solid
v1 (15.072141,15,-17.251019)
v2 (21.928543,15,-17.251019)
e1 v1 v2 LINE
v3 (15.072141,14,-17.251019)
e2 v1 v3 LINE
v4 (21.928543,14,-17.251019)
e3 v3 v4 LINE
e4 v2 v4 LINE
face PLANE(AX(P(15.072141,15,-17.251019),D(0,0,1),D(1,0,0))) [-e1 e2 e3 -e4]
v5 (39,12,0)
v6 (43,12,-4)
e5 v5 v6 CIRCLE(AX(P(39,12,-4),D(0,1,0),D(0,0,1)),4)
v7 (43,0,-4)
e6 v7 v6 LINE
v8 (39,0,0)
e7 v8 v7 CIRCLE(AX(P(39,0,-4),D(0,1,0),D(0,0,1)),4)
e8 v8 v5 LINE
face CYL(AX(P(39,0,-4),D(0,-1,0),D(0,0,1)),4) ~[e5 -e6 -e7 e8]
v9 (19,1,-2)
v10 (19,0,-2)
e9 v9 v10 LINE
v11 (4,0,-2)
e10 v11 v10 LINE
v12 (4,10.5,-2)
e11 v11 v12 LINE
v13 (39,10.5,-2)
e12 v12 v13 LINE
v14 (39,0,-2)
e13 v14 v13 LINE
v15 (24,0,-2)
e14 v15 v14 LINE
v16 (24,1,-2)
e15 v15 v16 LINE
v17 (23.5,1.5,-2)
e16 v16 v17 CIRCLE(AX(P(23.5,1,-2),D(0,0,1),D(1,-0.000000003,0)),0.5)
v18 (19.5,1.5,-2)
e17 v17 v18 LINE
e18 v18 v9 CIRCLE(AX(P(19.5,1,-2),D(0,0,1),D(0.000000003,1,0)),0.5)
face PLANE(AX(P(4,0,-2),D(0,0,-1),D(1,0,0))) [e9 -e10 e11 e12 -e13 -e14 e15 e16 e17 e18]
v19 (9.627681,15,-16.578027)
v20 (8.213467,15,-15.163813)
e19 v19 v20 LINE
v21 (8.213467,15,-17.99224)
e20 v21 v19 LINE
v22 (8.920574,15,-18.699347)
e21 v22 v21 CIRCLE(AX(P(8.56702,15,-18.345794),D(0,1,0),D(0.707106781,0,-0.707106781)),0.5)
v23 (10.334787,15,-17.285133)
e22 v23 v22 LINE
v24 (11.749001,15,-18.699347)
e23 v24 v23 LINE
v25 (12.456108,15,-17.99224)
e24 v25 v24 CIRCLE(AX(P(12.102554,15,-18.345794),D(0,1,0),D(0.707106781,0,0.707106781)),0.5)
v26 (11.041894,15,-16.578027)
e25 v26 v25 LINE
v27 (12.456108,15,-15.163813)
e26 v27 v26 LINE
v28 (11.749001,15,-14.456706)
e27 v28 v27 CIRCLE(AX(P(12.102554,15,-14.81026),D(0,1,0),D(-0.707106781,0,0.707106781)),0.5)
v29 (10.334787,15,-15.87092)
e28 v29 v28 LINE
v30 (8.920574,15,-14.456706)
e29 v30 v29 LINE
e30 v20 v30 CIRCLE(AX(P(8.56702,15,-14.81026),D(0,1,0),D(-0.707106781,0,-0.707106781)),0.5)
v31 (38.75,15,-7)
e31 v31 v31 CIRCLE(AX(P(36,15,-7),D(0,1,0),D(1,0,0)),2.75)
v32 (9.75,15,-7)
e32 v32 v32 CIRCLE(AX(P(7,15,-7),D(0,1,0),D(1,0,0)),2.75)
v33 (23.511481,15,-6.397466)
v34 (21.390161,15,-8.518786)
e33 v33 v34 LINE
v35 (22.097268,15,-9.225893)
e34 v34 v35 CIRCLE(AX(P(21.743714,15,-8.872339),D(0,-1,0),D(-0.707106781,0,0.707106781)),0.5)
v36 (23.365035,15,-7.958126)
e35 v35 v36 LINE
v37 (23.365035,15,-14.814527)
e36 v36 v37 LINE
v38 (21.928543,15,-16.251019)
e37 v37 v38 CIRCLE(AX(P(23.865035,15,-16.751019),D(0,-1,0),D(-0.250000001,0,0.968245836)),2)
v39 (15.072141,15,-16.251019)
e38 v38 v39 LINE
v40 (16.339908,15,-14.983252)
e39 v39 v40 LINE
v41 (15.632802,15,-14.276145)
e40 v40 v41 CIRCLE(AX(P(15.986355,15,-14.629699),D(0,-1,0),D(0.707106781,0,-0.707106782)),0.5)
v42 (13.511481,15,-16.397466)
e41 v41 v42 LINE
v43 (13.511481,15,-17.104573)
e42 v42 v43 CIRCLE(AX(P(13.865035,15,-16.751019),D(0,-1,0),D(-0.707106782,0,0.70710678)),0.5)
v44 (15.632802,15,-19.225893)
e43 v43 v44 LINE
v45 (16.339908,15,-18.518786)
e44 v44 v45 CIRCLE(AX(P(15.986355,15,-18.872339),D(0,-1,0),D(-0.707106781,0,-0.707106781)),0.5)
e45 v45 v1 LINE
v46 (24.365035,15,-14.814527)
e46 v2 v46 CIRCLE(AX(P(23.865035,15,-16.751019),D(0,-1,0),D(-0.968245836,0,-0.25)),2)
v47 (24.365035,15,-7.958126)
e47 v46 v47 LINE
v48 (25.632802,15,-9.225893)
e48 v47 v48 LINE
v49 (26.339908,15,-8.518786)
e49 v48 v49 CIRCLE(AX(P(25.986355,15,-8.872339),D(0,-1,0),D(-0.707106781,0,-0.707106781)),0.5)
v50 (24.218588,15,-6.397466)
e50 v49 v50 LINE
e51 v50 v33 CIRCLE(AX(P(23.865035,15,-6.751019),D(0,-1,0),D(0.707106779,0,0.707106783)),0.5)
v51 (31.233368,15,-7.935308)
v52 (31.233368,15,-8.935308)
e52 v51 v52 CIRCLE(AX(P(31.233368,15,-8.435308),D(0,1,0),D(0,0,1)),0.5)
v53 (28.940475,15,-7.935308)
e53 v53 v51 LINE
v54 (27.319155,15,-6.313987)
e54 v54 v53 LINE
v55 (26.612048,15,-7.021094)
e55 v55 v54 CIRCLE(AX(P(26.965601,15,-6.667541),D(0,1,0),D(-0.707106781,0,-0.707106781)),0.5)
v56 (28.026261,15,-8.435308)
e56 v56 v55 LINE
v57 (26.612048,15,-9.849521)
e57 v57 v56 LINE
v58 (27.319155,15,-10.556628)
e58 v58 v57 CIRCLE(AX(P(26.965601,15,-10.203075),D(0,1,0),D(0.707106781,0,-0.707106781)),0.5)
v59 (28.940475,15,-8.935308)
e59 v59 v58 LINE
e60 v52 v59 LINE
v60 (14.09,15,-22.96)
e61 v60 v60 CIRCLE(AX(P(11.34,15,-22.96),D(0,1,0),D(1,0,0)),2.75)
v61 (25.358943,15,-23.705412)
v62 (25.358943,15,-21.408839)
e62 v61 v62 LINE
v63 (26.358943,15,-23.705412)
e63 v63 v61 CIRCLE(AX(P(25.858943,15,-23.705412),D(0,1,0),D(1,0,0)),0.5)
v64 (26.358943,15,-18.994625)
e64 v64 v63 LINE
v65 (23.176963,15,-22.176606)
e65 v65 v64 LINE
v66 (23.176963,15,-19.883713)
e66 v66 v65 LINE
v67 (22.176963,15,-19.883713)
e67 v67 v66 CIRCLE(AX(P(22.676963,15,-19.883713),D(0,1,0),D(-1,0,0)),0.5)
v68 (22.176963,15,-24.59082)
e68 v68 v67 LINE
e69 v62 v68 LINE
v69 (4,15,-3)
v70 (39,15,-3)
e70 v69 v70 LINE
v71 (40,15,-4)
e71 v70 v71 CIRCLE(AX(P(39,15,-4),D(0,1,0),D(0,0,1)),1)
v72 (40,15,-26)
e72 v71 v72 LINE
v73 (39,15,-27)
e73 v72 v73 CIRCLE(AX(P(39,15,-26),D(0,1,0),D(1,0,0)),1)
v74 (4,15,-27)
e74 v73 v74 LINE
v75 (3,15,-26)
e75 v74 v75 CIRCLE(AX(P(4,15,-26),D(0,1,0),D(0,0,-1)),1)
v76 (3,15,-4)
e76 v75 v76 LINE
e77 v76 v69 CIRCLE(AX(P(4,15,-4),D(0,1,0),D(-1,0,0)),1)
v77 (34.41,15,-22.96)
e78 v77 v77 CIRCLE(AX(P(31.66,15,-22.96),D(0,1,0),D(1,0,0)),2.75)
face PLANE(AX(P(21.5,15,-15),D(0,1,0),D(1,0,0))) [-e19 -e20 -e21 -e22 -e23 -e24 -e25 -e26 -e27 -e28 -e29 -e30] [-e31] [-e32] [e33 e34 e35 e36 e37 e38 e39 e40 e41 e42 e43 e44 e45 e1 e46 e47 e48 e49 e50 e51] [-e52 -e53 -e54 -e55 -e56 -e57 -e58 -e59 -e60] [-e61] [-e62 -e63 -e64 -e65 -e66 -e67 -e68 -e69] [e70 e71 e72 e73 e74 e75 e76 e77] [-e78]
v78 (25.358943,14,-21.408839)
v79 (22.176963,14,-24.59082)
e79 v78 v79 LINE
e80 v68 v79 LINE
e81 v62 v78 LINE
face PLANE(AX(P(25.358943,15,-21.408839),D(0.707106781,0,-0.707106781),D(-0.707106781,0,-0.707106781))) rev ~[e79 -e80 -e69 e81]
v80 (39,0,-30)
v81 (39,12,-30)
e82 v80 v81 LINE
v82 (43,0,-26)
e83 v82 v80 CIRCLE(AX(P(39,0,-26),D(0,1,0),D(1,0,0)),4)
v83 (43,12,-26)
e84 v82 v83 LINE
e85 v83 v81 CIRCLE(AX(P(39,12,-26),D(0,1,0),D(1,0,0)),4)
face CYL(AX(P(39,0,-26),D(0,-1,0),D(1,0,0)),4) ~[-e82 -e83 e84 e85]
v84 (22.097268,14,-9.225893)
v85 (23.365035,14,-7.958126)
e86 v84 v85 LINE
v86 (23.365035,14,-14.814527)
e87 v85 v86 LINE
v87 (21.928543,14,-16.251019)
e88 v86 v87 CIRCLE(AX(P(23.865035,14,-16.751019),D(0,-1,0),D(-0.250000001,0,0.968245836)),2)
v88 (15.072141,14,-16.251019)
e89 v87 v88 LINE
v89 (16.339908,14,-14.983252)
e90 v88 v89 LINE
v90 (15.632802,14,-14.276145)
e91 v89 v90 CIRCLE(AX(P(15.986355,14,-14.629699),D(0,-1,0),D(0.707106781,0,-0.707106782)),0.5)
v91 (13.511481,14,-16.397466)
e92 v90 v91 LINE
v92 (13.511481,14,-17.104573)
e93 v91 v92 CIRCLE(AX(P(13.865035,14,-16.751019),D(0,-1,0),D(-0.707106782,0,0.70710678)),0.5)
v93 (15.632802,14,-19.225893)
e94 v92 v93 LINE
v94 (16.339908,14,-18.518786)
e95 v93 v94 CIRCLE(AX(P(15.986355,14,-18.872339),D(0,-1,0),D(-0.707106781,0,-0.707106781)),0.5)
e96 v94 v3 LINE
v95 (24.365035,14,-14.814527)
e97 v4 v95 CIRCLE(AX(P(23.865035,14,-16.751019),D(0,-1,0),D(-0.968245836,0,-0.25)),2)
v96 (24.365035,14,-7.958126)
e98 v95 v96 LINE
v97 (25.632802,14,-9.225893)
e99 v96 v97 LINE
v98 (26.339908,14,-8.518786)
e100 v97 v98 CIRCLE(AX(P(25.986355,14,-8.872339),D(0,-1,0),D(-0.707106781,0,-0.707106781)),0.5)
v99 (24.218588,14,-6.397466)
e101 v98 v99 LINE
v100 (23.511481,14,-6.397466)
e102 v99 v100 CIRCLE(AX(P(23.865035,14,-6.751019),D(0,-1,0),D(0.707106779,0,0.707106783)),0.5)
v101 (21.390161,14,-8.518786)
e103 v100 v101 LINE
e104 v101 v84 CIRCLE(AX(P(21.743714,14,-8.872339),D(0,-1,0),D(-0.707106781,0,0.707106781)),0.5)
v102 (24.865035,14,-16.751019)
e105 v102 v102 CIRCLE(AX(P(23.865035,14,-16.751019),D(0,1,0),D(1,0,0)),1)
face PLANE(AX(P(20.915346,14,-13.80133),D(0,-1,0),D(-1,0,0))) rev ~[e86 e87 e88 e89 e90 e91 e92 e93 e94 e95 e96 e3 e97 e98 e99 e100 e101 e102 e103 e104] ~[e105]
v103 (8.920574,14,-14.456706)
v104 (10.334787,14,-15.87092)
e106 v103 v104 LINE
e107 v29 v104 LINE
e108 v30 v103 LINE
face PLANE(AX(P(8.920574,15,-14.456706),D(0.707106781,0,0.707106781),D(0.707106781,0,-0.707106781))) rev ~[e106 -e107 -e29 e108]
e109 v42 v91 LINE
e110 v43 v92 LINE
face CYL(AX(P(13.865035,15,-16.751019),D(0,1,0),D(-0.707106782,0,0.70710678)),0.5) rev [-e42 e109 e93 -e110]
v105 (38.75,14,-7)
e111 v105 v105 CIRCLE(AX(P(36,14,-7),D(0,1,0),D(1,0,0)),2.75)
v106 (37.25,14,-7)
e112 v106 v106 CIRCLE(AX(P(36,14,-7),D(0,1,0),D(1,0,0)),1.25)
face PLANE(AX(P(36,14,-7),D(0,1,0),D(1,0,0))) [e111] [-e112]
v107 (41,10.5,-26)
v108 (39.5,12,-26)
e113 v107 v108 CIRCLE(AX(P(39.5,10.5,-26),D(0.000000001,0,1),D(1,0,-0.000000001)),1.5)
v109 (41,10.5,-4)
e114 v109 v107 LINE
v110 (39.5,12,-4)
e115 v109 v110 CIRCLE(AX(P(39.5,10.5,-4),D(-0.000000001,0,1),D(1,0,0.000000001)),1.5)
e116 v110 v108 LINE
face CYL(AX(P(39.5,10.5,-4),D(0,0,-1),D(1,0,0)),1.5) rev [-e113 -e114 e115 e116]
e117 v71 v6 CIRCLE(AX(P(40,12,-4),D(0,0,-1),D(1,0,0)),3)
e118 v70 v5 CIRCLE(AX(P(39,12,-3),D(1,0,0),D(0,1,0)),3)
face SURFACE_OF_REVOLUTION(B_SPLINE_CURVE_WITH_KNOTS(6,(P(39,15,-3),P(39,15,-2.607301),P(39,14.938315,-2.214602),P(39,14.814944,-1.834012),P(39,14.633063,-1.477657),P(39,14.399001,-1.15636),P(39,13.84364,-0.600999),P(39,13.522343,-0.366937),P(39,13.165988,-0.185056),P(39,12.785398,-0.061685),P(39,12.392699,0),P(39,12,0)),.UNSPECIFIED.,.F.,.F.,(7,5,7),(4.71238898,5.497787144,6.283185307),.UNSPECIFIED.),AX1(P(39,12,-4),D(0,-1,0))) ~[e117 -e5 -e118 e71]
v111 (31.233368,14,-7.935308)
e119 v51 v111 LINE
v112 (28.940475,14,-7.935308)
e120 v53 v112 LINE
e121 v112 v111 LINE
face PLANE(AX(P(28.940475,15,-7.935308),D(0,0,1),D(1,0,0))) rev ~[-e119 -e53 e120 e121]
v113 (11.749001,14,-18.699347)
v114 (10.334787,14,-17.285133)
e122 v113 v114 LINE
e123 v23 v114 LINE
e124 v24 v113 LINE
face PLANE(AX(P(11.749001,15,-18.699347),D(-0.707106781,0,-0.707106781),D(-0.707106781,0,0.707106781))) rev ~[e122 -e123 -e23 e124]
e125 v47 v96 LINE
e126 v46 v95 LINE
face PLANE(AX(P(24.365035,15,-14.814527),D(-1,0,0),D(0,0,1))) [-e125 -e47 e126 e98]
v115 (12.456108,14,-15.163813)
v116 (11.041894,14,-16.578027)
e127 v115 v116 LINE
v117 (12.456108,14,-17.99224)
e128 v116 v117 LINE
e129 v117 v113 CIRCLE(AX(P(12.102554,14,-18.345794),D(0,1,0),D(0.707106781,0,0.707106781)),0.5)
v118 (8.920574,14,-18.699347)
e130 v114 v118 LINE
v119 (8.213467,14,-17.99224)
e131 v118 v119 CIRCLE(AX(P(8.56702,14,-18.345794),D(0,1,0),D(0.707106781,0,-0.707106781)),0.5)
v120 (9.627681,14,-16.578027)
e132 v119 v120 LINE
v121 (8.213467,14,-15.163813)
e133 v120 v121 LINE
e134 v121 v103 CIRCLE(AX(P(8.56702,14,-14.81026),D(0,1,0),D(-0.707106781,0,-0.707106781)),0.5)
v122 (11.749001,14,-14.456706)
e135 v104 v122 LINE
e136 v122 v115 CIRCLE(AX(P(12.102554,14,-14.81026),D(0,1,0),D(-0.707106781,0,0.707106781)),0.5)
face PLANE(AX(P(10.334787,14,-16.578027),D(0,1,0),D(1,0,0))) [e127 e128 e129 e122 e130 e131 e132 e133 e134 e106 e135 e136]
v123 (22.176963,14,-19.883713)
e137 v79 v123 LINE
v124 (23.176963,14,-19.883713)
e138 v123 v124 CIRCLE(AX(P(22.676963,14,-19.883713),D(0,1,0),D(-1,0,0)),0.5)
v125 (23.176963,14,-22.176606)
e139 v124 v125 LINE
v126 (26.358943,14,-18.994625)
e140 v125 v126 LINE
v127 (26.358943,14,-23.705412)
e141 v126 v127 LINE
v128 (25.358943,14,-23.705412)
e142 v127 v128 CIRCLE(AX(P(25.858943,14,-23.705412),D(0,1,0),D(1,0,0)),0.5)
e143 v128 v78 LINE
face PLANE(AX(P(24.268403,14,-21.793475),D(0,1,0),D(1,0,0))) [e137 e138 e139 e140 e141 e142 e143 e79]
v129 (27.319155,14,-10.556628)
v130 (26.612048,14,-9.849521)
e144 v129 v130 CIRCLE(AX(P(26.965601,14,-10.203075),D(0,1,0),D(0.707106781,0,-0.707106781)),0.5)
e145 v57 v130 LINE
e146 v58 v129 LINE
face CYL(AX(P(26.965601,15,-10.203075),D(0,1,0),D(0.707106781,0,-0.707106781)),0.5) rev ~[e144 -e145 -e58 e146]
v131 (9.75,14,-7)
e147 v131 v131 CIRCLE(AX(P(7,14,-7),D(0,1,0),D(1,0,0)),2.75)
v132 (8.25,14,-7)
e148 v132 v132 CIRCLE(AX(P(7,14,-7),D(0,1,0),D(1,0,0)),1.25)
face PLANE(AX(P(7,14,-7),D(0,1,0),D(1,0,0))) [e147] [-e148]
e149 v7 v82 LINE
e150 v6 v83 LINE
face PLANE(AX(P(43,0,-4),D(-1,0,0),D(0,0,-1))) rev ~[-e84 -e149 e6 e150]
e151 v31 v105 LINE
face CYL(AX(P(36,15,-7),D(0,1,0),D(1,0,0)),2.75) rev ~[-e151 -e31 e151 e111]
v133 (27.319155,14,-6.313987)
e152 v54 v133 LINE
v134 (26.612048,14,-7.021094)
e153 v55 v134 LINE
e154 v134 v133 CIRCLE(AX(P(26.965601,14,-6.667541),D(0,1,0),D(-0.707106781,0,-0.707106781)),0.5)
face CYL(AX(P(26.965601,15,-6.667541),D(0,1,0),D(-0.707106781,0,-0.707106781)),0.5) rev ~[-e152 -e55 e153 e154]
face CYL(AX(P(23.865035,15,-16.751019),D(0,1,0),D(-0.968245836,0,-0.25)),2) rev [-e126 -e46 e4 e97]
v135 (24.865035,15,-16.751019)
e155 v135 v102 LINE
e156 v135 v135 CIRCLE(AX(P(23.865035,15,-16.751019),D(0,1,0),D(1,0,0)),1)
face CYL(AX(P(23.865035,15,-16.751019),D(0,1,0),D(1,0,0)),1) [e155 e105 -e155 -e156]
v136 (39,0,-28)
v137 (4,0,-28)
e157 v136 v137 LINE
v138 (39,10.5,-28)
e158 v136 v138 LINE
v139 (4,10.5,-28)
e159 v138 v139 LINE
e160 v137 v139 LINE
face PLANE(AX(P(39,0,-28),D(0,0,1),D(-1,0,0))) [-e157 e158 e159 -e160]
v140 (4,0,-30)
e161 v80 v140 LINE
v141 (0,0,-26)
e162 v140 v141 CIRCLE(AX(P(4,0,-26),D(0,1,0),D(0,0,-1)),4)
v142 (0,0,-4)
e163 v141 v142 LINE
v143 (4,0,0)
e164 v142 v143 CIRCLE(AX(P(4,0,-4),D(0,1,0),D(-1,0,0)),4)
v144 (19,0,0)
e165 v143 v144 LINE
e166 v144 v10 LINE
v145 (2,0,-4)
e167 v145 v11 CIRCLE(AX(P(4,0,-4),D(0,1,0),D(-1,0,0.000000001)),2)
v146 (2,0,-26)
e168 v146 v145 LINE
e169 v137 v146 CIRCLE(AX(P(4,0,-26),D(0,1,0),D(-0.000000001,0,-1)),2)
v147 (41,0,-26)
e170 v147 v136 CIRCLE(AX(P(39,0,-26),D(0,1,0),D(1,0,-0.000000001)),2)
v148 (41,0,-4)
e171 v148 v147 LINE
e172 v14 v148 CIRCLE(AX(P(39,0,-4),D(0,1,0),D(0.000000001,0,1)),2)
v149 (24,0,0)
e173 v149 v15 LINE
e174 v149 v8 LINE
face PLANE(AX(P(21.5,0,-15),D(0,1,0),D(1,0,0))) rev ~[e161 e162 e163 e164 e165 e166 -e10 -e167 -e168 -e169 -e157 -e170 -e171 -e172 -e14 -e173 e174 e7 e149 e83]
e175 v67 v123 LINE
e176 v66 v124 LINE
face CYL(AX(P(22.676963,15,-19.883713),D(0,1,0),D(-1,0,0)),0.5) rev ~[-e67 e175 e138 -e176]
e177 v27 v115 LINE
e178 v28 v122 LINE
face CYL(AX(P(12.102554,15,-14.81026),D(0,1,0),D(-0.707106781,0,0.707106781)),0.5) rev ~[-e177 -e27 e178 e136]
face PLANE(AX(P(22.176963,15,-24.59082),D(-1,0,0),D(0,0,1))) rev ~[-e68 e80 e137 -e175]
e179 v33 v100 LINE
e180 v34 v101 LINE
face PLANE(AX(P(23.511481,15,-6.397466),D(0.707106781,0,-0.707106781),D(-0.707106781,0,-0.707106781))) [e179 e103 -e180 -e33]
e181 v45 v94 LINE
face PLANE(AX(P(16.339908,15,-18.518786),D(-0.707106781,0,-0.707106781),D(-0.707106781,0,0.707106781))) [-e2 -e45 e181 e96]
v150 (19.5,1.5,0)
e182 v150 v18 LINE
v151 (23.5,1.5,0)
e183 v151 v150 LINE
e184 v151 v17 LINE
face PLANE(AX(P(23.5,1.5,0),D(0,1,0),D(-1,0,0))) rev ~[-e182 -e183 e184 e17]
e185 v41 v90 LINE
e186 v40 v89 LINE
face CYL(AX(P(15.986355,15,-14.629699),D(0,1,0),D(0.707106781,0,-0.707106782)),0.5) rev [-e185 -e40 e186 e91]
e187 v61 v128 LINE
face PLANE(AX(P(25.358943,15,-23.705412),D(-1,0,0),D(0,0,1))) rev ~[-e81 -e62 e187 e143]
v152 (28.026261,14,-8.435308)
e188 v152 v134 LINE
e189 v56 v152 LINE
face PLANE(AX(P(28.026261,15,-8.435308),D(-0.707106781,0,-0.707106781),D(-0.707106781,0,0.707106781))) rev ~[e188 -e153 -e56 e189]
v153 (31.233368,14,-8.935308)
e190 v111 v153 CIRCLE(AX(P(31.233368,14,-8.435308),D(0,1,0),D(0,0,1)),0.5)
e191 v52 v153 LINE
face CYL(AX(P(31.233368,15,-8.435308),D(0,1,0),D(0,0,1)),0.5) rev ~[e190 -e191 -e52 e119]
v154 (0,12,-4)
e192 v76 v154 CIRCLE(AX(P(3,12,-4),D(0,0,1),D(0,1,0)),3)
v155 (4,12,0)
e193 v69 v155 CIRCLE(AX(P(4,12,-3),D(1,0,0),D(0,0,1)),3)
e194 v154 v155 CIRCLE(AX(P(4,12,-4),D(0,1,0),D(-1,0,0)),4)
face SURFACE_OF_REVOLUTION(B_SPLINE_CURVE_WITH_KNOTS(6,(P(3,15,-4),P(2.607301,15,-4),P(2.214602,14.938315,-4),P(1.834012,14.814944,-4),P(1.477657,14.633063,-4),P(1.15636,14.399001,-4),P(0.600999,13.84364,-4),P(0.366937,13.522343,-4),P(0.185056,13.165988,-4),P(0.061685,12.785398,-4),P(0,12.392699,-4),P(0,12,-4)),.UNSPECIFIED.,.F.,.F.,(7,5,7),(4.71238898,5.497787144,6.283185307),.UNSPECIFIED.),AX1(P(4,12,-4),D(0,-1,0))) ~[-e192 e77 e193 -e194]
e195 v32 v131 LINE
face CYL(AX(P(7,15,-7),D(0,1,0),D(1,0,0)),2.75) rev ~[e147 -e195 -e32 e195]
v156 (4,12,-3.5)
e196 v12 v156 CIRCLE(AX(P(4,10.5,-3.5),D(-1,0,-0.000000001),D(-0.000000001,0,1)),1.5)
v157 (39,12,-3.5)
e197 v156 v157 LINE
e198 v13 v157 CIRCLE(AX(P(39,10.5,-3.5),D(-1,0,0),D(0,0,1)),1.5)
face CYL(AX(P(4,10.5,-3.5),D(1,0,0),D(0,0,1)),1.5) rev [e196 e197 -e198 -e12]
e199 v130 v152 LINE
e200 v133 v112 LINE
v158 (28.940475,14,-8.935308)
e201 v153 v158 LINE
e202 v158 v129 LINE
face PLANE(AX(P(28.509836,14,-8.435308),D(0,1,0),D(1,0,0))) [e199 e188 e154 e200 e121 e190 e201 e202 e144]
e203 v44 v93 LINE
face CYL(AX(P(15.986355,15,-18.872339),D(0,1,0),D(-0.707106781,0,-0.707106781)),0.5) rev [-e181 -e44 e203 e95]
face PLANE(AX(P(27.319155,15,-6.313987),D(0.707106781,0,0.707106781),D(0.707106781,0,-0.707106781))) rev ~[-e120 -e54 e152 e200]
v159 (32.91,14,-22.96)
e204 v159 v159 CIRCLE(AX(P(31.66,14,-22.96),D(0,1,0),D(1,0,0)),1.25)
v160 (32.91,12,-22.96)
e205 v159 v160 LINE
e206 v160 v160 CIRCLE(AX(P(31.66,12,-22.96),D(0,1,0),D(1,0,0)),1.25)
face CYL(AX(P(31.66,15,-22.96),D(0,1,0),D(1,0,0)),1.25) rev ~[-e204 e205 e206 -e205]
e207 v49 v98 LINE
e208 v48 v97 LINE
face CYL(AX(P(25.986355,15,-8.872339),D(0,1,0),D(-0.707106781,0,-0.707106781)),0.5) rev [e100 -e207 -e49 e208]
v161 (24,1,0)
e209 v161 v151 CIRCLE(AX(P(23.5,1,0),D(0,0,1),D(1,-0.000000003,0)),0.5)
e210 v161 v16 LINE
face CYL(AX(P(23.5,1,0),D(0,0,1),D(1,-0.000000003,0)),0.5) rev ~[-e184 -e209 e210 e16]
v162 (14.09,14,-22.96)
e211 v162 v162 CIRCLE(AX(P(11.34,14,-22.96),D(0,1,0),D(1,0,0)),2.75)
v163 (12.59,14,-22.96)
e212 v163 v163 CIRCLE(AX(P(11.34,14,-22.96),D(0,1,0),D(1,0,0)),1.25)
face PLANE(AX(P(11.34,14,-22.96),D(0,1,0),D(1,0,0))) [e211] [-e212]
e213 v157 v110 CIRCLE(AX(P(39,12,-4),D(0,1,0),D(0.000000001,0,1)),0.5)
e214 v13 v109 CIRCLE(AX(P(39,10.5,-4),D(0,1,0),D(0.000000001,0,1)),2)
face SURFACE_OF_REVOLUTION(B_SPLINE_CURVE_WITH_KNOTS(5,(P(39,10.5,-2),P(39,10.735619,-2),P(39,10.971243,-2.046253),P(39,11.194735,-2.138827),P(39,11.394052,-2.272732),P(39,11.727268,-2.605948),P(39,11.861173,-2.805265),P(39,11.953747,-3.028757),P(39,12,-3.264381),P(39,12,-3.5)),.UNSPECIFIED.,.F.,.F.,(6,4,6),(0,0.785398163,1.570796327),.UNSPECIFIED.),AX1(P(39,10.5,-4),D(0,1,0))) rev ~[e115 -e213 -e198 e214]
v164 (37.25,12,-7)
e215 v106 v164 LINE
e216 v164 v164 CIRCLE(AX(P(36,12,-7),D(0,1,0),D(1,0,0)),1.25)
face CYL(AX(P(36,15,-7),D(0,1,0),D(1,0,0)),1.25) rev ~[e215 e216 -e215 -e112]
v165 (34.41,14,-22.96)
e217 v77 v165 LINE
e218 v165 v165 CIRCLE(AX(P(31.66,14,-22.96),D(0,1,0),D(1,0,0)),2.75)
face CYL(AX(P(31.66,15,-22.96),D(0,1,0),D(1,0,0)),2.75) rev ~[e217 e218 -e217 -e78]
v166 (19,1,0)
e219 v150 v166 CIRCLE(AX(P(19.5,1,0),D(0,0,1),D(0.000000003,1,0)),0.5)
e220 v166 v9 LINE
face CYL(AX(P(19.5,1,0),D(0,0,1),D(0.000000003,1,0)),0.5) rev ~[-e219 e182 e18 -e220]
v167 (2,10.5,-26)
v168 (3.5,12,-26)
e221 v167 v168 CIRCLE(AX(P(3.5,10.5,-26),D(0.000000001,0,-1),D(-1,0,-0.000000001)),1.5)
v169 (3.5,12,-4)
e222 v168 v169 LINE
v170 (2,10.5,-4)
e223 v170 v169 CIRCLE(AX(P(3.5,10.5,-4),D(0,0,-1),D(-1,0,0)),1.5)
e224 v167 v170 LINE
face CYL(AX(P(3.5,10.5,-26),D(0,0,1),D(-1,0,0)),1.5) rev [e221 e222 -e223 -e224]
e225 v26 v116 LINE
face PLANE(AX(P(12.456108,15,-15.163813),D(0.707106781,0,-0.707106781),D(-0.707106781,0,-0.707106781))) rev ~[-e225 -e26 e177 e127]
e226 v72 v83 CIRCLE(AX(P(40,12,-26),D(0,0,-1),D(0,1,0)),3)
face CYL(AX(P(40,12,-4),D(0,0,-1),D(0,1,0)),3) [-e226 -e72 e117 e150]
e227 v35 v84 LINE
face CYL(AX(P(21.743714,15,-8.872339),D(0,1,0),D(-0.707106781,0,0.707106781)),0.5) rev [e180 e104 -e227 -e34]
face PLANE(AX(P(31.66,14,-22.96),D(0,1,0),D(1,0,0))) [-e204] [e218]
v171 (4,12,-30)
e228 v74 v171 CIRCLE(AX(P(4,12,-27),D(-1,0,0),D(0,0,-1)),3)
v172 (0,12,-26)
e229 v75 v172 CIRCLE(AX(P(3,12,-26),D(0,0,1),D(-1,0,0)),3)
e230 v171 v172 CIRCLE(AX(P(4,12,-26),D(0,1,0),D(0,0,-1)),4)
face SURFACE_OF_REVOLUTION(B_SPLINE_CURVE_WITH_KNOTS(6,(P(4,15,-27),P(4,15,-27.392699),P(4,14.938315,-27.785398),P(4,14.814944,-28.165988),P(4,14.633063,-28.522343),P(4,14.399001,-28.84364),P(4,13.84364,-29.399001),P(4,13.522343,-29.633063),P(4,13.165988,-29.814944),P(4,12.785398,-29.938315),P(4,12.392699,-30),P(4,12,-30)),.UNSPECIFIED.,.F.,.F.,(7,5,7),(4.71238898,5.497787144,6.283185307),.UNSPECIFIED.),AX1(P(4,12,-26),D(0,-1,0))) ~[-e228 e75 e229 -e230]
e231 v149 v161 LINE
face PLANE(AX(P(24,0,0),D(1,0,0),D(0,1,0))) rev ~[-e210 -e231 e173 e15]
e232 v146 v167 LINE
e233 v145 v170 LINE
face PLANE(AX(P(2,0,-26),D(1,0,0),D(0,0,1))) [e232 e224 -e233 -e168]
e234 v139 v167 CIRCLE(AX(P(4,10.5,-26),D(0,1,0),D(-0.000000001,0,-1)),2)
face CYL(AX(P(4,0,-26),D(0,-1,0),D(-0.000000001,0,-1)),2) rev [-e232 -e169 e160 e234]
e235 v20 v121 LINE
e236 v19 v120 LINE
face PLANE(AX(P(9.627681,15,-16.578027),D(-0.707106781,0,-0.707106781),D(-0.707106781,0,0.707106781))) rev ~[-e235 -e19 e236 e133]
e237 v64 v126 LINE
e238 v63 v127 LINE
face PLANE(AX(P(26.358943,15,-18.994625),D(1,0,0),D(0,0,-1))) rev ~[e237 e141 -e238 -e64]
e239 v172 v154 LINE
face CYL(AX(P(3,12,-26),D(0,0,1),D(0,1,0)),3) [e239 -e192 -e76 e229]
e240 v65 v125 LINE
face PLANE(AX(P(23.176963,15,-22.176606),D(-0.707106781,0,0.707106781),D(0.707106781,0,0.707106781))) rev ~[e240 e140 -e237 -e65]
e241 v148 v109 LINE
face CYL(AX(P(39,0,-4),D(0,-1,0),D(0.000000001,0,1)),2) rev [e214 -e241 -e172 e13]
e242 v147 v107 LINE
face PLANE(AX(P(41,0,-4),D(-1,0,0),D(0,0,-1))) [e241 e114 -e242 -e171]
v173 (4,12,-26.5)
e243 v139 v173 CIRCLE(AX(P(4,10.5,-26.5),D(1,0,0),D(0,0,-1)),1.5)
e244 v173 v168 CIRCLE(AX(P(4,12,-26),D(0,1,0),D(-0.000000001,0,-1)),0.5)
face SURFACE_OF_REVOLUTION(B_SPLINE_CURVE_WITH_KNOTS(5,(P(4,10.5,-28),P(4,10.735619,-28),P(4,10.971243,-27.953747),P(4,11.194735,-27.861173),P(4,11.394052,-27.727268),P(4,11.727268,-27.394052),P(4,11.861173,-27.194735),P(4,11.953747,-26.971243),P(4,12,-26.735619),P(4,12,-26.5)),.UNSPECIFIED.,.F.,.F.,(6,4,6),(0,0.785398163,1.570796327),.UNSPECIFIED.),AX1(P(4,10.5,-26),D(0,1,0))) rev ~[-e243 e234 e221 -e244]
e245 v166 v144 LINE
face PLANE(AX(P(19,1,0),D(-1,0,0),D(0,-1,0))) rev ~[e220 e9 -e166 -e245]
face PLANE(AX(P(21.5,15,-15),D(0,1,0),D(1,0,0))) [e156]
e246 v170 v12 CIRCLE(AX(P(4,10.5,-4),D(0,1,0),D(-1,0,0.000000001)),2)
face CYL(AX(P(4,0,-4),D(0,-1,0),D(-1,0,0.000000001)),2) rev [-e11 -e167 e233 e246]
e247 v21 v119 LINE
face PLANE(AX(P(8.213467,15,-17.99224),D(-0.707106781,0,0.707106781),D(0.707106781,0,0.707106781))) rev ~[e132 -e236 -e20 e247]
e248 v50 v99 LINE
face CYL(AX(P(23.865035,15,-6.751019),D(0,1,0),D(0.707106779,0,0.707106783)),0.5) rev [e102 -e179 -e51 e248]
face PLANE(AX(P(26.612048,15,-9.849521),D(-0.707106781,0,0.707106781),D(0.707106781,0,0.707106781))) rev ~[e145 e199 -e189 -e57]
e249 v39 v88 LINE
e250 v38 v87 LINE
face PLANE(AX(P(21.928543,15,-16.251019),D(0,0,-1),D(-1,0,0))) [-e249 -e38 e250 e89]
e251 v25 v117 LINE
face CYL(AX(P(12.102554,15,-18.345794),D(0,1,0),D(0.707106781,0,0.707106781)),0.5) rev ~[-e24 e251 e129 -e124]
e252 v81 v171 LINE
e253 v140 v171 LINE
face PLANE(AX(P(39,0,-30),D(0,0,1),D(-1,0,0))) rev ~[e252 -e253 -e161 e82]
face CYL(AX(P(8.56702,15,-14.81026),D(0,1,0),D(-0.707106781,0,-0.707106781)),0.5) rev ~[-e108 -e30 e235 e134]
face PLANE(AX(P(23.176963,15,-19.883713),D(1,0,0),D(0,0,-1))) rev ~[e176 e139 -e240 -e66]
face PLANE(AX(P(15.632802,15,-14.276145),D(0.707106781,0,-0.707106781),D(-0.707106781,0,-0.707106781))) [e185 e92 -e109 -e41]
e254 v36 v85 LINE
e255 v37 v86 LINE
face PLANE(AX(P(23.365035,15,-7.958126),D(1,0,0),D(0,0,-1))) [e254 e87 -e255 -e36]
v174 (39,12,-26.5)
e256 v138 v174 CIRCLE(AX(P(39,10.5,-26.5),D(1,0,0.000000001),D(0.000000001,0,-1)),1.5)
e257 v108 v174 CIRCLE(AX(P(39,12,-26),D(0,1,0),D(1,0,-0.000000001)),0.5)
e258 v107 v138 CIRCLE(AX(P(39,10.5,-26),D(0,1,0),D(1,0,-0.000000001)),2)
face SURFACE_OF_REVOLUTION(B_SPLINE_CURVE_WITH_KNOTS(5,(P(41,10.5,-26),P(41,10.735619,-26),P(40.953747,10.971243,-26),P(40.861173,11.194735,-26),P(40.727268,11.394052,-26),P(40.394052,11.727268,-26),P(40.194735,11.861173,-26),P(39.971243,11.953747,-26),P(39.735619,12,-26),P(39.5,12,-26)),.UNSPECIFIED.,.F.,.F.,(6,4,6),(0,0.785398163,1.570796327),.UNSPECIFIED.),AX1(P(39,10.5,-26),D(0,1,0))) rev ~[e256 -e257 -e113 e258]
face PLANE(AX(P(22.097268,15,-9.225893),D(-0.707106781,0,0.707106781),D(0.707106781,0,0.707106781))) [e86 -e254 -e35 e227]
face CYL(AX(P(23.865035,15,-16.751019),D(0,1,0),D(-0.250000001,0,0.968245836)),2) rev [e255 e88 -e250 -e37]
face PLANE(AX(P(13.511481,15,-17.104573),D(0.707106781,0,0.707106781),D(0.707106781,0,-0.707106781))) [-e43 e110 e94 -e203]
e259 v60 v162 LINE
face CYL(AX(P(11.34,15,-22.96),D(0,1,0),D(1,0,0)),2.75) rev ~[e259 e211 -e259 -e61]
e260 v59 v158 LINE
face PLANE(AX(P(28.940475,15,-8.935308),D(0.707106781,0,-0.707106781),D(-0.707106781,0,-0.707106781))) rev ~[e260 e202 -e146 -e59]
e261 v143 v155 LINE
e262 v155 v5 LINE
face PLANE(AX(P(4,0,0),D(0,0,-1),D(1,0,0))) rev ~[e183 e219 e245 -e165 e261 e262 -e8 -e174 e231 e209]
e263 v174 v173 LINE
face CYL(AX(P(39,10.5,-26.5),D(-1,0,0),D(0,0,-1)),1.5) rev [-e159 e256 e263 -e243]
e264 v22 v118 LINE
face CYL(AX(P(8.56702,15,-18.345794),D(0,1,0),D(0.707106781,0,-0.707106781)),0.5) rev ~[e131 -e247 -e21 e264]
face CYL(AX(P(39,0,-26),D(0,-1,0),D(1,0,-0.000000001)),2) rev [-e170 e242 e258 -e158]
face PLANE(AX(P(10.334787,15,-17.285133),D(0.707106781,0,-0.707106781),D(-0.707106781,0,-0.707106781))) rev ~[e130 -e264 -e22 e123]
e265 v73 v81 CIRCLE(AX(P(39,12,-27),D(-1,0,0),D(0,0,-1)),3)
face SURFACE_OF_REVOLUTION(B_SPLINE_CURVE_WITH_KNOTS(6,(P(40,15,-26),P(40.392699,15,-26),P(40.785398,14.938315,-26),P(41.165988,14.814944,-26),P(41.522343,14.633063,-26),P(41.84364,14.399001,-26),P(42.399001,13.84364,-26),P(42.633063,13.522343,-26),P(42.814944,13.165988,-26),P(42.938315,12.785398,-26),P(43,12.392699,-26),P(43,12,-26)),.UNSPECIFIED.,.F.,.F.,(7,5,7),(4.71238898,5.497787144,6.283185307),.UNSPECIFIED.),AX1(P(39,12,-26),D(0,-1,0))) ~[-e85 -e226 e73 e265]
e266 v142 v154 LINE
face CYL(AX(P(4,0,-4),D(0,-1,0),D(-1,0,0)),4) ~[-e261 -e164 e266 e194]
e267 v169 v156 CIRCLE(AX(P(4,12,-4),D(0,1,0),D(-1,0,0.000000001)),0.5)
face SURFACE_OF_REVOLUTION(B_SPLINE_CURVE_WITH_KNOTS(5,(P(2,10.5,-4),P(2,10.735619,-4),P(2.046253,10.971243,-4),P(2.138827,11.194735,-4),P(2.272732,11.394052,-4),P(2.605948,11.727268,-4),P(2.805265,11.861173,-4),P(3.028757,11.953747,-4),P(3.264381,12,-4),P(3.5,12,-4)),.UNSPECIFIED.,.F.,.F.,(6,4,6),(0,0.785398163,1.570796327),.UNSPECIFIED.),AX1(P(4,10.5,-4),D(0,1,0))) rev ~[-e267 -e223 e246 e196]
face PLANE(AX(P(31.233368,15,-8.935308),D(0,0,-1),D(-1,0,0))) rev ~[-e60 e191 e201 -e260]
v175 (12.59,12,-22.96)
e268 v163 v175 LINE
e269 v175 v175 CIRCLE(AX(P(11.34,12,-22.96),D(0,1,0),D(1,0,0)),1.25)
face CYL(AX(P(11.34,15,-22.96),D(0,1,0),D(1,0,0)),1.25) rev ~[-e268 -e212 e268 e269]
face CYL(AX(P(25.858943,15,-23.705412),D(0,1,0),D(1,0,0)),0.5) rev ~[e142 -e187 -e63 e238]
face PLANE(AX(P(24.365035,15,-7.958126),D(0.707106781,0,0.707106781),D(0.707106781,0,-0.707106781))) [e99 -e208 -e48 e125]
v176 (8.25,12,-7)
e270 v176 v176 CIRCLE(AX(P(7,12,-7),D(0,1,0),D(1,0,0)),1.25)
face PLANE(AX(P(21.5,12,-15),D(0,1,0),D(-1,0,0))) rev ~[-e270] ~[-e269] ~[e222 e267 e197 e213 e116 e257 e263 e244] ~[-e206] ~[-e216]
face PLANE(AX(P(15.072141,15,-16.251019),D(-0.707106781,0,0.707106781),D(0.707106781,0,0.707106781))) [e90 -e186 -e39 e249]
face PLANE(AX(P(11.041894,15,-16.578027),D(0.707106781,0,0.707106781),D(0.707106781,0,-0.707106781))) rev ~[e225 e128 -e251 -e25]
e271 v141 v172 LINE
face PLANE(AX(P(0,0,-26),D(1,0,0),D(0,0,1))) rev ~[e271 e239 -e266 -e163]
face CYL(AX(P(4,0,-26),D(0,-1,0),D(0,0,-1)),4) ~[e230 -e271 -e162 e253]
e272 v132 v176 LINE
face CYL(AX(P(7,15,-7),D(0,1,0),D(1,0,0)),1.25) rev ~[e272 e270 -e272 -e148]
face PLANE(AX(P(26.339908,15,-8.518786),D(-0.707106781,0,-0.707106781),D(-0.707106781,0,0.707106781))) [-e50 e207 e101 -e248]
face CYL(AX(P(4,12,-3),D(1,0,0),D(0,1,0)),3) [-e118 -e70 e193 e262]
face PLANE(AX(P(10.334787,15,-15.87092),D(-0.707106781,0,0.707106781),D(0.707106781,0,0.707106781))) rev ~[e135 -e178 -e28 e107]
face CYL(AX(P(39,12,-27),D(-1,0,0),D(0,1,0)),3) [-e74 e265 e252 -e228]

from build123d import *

# Parameters (mm, degrees)
BOSS_EXTRUDE1_DEPTH = 15
CUT_EXTRUDE1_DEPTH  = 12
FILLET1_R           = 3
FILLET2_R           = 1.5
SKETCH6_R           = 1
CUT_EXTRUDE5_DEPTH  = 1
CUT_EXTRUDE6_DEPTH  = 2
SKETCH9_R           = 1.25
CUT_EXTRUDE7_DEPTH  = 3
SKETCH10_R          = 2.75
CUT_EXTRUDE8_DEPTH  = 1


with BuildPart() as part:
    # Sketch1 → Boss-Extrude1 (new body)
    with BuildSketch(Plane(origin=(0, 0, 0), x_dir=(1, 0, 0), z_dir=(0, 1, 0))):
        with BuildLine():
            Line((4, 0), (39, 0))
            ThreePointArc((39, 0), (41.828427125, 1.171572875), (43, 4))
            Line((43, 4), (43, 26))
            ThreePointArc((43, 26), (41.828427125, 28.828427125), (39, 30))
            Line((39, 30), (4, 30))
            ThreePointArc((4, 30), (1.171572875, 28.828427125), (0, 26))
            Line((0, 26), (0, 4))
            ThreePointArc((0, 4), (1.171572875, 1.171572875), (4, 0))
        make_face()
    extrude(amount=BOSS_EXTRUDE1_DEPTH)

    # Sketch2 → Cut-Extrude1 (cut)
    with BuildSketch(Plane.XZ):
        with BuildLine():
            Line((4, -2), (39, -2))
            ThreePointArc((39, -2), (40.414213562, -2.585786438), (41, -4))
            Line((41, -4), (41, -26))
            ThreePointArc((41, -26), (40.414213562, -27.414213562), (39, -28))
            Line((39, -28), (4, -28))
            ThreePointArc((4, -28), (2.585786438, -27.414213562), (2, -26))
            Line((2, -26), (2, -4))
            ThreePointArc((2, -4), (2.585786438, -2.585786438), (4, -2))
        make_face()
    extrude(amount=-CUT_EXTRUDE1_DEPTH, mode=Mode.SUBTRACT)

    # Fillet1
    fillet1_edges = [part.edges().sort_by_distance(p)[0] for p in [
        (1.171572875, 15, -28.828427125),
        (0, 15, -15),
        (1.171572875, 15, -1.171572875),
        (21.5, 15, 0),
        (41.828427125, 15, -1.171572875),
        (43, 15, -15),
        (41.828427125, 15, -28.828427125),
        (21.5, 15, -30),
    ]]
    fillet(fillet1_edges, radius=FILLET1_R)

    # Fillet2
    fillet2_edges = [part.edges().sort_by_distance(p)[0] for p in [
        (40.414213562, 12, -27.414213562),
        (21.5, 12, -28),
        (2.585786438, 12, -27.414213562),
        (2, 12, -15),
        (2.585786438, 12, -2.585786438),
        (21.5, 12, -2),
        (40.414213562, 12, -2.585786438),
        (41, 12, -15),
    ]]
    fillet(fillet2_edges, radius=FILLET2_R)

    # Sketch6 → Cut-Extrude5 (cut)
    with BuildSketch(Plane(origin=(0, 15, 0), x_dir=(1, 0, 0), z_dir=(0, 1, 0))):
        with BuildLine():
            Line((24.365034556, 14.814527437), (24.365034556, 7.958125892))
            Line((24.365034556, 7.958125892), (25.632801509, 9.225892845))
            ThreePointArc((25.632801509, 9.225892845), (26.33990829, 9.225892845), (26.33990829, 8.518786064))
            Line((26.33990829, 8.518786064), (24.218587947, 6.39746572))
            ThreePointArc((24.218587947, 6.39746572), (23.865034556, 6.251019111), (23.511481165, 6.39746572))
            Line((23.511481165, 6.39746572), (21.390160822, 8.518786064))
            ThreePointArc((21.390160822, 8.518786064), (21.390160822, 9.225892845), (22.097267603, 9.225892845))
            Line((22.097267603, 9.225892845), (23.365034556, 7.958125892))
            Line((23.365034556, 7.958125892), (23.365034556, 14.814527437))
            ThreePointArc((23.365034556, 14.814527437), (22.450820994, 15.336805548), (21.928542883, 16.251019111))
            Line((21.928542883, 16.251019111), (15.072141337, 16.251019111))
            Line((15.072141337, 16.251019111), (16.33990829, 14.983252158))
            ThreePointArc((16.33990829, 14.983252158), (16.33990829, 14.276145376), (15.632801509, 14.276145376))
            Line((15.632801509, 14.276145376), (13.511481165, 16.39746572))
            ThreePointArc((13.511481165, 16.39746572), (13.365034556, 16.751019111), (13.511481165, 17.104572501))
            Line((13.511481165, 17.104572501), (15.632801509, 19.225892845))
            ThreePointArc((15.632801509, 19.225892845), (16.33990829, 19.225892845), (16.33990829, 18.518786064))
            Line((16.33990829, 18.518786064), (15.072141337, 17.251019111))
            Line((15.072141337, 17.251019111), (21.928542883, 17.251019111))
            ThreePointArc((21.928542883, 17.251019111), (25.279248118, 18.165232673), (24.365034556, 14.814527437))
        make_face()
        with Locations((23.865034556, 16.751019111)):
            Circle(SKETCH6_R, mode=Mode.SUBTRACT)
        with BuildLine():
            Line((26.35894309, 18.994625435), (26.35894309, 23.705411504))
            ThreePointArc((26.35894309, 23.705411504), (25.85894309, 24.205411504), (25.35894309, 23.705411504))
            Line((25.35894309, 23.705411504), (25.35894309, 21.408838997))
            Line((25.35894309, 21.408838997), (22.176962575, 24.590819512))
            Line((22.176962575, 24.590819512), (22.176962575, 19.883712731))
            ThreePointArc((22.176962575, 19.883712731), (22.676962575, 19.383712731), (23.176962575, 19.883712731))
            Line((23.176962575, 19.883712731), (23.176962575, 22.17660595))
            Line((23.176962575, 22.17660595), (26.35894309, 18.994625435))
        make_face()
        with BuildLine():
            Line((28.940475029, 7.935307593), (31.233368247, 7.935307593))
            ThreePointArc((31.233368247, 7.935307593), (31.733368247, 8.435307593), (31.233368247, 8.935307593))
            Line((31.233368247, 8.935307593), (28.940475029, 8.935307593))
            Line((28.940475029, 8.935307593), (27.319154685, 10.556627936))
            ThreePointArc((27.319154685, 10.556627936), (26.612047904, 10.556627936), (26.612047904, 9.849521155))
            Line((26.612047904, 9.849521155), (28.026261466, 8.435307593))
            Line((28.026261466, 8.435307593), (26.612047904, 7.02109403))
            ThreePointArc((26.612047904, 7.02109403), (26.612047904, 6.313987249), (27.319154685, 6.313987249))
            Line((27.319154685, 6.313987249), (28.940475029, 7.935307593))
        make_face()
        with BuildLine():
            Line((10.334787343, 15.870919893), (11.749000906, 14.456706331))
            ThreePointArc((11.749000906, 14.456706331), (12.456107687, 14.456706331), (12.456107687, 15.163813112))
            Line((12.456107687, 15.163813112), (11.041894124, 16.578026674))
            Line((11.041894124, 16.578026674), (12.456107687, 17.992240237))
            ThreePointArc((12.456107687, 17.992240237), (12.456107687, 18.699347018), (11.749000906, 18.699347018))
            Line((11.749000906, 18.699347018), (10.334787343, 17.285133456))
            Line((10.334787343, 17.285133456), (8.920573781, 18.699347018))
            ThreePointArc((8.920573781, 18.699347018), (8.213467, 18.699347018), (8.213467, 17.992240237))
            Line((8.213467, 17.992240237), (9.627680562, 16.578026674))
            Line((9.627680562, 16.578026674), (8.213467, 15.163813112))
            ThreePointArc((8.213467, 15.163813112), (8.213467, 14.456706331), (8.920573781, 14.456706331))
            Line((8.920573781, 14.456706331), (10.334787343, 15.870919893))
        make_face()
    extrude(amount=-CUT_EXTRUDE5_DEPTH, mode=Mode.SUBTRACT)

    # Sketch7 → Cut-Extrude6 (cut)
    with BuildSketch(Plane.XY):
        with BuildLine():
            Line((19, 0), (24, 0))
            Line((24, 0), (24, 1))
            ThreePointArc((24, 1), (23.853553391, 1.353553391), (23.5, 1.5))
            Line((23.5, 1.5), (19.5, 1.5))
            ThreePointArc((19.5, 1.5), (19.146446609, 1.353553391), (19, 1))
            Line((19, 1), (19, 0))
        make_face()
    extrude(amount=-CUT_EXTRUDE6_DEPTH, mode=Mode.SUBTRACT)

    # Sketch9 → Cut-Extrude7 (cut)
    with BuildSketch(Plane(origin=(0, 15, 0), x_dir=(1, 0, 0), z_dir=(0, 1, 0))):
        with Locations((7, 7)):
            Circle(SKETCH9_R)
        with Locations((11.34, 22.96)):
            Circle(SKETCH9_R)
        with Locations((31.66, 22.96)):
            Circle(SKETCH9_R)
        with Locations((36, 7)):
            Circle(SKETCH9_R)
    extrude(amount=-CUT_EXTRUDE7_DEPTH, mode=Mode.SUBTRACT)

    # Sketch10 → Cut-Extrude8 (cut)
    with BuildSketch(Plane(origin=(0, 15, 0), x_dir=(1, 0, 0), z_dir=(0, 1, 0))):
        with Locations((7, 7)):
            Circle(SKETCH10_R)
        with Locations((11.34, 22.96)):
            Circle(SKETCH10_R)
        with Locations((36, 7)):
            Circle(SKETCH10_R)
        with Locations((31.66, 22.96)):
            Circle(SKETCH10_R)
    extrude(amount=-CUT_EXTRUDE8_DEPTH, mode=Mode.SUBTRACT)


solid = part.part
